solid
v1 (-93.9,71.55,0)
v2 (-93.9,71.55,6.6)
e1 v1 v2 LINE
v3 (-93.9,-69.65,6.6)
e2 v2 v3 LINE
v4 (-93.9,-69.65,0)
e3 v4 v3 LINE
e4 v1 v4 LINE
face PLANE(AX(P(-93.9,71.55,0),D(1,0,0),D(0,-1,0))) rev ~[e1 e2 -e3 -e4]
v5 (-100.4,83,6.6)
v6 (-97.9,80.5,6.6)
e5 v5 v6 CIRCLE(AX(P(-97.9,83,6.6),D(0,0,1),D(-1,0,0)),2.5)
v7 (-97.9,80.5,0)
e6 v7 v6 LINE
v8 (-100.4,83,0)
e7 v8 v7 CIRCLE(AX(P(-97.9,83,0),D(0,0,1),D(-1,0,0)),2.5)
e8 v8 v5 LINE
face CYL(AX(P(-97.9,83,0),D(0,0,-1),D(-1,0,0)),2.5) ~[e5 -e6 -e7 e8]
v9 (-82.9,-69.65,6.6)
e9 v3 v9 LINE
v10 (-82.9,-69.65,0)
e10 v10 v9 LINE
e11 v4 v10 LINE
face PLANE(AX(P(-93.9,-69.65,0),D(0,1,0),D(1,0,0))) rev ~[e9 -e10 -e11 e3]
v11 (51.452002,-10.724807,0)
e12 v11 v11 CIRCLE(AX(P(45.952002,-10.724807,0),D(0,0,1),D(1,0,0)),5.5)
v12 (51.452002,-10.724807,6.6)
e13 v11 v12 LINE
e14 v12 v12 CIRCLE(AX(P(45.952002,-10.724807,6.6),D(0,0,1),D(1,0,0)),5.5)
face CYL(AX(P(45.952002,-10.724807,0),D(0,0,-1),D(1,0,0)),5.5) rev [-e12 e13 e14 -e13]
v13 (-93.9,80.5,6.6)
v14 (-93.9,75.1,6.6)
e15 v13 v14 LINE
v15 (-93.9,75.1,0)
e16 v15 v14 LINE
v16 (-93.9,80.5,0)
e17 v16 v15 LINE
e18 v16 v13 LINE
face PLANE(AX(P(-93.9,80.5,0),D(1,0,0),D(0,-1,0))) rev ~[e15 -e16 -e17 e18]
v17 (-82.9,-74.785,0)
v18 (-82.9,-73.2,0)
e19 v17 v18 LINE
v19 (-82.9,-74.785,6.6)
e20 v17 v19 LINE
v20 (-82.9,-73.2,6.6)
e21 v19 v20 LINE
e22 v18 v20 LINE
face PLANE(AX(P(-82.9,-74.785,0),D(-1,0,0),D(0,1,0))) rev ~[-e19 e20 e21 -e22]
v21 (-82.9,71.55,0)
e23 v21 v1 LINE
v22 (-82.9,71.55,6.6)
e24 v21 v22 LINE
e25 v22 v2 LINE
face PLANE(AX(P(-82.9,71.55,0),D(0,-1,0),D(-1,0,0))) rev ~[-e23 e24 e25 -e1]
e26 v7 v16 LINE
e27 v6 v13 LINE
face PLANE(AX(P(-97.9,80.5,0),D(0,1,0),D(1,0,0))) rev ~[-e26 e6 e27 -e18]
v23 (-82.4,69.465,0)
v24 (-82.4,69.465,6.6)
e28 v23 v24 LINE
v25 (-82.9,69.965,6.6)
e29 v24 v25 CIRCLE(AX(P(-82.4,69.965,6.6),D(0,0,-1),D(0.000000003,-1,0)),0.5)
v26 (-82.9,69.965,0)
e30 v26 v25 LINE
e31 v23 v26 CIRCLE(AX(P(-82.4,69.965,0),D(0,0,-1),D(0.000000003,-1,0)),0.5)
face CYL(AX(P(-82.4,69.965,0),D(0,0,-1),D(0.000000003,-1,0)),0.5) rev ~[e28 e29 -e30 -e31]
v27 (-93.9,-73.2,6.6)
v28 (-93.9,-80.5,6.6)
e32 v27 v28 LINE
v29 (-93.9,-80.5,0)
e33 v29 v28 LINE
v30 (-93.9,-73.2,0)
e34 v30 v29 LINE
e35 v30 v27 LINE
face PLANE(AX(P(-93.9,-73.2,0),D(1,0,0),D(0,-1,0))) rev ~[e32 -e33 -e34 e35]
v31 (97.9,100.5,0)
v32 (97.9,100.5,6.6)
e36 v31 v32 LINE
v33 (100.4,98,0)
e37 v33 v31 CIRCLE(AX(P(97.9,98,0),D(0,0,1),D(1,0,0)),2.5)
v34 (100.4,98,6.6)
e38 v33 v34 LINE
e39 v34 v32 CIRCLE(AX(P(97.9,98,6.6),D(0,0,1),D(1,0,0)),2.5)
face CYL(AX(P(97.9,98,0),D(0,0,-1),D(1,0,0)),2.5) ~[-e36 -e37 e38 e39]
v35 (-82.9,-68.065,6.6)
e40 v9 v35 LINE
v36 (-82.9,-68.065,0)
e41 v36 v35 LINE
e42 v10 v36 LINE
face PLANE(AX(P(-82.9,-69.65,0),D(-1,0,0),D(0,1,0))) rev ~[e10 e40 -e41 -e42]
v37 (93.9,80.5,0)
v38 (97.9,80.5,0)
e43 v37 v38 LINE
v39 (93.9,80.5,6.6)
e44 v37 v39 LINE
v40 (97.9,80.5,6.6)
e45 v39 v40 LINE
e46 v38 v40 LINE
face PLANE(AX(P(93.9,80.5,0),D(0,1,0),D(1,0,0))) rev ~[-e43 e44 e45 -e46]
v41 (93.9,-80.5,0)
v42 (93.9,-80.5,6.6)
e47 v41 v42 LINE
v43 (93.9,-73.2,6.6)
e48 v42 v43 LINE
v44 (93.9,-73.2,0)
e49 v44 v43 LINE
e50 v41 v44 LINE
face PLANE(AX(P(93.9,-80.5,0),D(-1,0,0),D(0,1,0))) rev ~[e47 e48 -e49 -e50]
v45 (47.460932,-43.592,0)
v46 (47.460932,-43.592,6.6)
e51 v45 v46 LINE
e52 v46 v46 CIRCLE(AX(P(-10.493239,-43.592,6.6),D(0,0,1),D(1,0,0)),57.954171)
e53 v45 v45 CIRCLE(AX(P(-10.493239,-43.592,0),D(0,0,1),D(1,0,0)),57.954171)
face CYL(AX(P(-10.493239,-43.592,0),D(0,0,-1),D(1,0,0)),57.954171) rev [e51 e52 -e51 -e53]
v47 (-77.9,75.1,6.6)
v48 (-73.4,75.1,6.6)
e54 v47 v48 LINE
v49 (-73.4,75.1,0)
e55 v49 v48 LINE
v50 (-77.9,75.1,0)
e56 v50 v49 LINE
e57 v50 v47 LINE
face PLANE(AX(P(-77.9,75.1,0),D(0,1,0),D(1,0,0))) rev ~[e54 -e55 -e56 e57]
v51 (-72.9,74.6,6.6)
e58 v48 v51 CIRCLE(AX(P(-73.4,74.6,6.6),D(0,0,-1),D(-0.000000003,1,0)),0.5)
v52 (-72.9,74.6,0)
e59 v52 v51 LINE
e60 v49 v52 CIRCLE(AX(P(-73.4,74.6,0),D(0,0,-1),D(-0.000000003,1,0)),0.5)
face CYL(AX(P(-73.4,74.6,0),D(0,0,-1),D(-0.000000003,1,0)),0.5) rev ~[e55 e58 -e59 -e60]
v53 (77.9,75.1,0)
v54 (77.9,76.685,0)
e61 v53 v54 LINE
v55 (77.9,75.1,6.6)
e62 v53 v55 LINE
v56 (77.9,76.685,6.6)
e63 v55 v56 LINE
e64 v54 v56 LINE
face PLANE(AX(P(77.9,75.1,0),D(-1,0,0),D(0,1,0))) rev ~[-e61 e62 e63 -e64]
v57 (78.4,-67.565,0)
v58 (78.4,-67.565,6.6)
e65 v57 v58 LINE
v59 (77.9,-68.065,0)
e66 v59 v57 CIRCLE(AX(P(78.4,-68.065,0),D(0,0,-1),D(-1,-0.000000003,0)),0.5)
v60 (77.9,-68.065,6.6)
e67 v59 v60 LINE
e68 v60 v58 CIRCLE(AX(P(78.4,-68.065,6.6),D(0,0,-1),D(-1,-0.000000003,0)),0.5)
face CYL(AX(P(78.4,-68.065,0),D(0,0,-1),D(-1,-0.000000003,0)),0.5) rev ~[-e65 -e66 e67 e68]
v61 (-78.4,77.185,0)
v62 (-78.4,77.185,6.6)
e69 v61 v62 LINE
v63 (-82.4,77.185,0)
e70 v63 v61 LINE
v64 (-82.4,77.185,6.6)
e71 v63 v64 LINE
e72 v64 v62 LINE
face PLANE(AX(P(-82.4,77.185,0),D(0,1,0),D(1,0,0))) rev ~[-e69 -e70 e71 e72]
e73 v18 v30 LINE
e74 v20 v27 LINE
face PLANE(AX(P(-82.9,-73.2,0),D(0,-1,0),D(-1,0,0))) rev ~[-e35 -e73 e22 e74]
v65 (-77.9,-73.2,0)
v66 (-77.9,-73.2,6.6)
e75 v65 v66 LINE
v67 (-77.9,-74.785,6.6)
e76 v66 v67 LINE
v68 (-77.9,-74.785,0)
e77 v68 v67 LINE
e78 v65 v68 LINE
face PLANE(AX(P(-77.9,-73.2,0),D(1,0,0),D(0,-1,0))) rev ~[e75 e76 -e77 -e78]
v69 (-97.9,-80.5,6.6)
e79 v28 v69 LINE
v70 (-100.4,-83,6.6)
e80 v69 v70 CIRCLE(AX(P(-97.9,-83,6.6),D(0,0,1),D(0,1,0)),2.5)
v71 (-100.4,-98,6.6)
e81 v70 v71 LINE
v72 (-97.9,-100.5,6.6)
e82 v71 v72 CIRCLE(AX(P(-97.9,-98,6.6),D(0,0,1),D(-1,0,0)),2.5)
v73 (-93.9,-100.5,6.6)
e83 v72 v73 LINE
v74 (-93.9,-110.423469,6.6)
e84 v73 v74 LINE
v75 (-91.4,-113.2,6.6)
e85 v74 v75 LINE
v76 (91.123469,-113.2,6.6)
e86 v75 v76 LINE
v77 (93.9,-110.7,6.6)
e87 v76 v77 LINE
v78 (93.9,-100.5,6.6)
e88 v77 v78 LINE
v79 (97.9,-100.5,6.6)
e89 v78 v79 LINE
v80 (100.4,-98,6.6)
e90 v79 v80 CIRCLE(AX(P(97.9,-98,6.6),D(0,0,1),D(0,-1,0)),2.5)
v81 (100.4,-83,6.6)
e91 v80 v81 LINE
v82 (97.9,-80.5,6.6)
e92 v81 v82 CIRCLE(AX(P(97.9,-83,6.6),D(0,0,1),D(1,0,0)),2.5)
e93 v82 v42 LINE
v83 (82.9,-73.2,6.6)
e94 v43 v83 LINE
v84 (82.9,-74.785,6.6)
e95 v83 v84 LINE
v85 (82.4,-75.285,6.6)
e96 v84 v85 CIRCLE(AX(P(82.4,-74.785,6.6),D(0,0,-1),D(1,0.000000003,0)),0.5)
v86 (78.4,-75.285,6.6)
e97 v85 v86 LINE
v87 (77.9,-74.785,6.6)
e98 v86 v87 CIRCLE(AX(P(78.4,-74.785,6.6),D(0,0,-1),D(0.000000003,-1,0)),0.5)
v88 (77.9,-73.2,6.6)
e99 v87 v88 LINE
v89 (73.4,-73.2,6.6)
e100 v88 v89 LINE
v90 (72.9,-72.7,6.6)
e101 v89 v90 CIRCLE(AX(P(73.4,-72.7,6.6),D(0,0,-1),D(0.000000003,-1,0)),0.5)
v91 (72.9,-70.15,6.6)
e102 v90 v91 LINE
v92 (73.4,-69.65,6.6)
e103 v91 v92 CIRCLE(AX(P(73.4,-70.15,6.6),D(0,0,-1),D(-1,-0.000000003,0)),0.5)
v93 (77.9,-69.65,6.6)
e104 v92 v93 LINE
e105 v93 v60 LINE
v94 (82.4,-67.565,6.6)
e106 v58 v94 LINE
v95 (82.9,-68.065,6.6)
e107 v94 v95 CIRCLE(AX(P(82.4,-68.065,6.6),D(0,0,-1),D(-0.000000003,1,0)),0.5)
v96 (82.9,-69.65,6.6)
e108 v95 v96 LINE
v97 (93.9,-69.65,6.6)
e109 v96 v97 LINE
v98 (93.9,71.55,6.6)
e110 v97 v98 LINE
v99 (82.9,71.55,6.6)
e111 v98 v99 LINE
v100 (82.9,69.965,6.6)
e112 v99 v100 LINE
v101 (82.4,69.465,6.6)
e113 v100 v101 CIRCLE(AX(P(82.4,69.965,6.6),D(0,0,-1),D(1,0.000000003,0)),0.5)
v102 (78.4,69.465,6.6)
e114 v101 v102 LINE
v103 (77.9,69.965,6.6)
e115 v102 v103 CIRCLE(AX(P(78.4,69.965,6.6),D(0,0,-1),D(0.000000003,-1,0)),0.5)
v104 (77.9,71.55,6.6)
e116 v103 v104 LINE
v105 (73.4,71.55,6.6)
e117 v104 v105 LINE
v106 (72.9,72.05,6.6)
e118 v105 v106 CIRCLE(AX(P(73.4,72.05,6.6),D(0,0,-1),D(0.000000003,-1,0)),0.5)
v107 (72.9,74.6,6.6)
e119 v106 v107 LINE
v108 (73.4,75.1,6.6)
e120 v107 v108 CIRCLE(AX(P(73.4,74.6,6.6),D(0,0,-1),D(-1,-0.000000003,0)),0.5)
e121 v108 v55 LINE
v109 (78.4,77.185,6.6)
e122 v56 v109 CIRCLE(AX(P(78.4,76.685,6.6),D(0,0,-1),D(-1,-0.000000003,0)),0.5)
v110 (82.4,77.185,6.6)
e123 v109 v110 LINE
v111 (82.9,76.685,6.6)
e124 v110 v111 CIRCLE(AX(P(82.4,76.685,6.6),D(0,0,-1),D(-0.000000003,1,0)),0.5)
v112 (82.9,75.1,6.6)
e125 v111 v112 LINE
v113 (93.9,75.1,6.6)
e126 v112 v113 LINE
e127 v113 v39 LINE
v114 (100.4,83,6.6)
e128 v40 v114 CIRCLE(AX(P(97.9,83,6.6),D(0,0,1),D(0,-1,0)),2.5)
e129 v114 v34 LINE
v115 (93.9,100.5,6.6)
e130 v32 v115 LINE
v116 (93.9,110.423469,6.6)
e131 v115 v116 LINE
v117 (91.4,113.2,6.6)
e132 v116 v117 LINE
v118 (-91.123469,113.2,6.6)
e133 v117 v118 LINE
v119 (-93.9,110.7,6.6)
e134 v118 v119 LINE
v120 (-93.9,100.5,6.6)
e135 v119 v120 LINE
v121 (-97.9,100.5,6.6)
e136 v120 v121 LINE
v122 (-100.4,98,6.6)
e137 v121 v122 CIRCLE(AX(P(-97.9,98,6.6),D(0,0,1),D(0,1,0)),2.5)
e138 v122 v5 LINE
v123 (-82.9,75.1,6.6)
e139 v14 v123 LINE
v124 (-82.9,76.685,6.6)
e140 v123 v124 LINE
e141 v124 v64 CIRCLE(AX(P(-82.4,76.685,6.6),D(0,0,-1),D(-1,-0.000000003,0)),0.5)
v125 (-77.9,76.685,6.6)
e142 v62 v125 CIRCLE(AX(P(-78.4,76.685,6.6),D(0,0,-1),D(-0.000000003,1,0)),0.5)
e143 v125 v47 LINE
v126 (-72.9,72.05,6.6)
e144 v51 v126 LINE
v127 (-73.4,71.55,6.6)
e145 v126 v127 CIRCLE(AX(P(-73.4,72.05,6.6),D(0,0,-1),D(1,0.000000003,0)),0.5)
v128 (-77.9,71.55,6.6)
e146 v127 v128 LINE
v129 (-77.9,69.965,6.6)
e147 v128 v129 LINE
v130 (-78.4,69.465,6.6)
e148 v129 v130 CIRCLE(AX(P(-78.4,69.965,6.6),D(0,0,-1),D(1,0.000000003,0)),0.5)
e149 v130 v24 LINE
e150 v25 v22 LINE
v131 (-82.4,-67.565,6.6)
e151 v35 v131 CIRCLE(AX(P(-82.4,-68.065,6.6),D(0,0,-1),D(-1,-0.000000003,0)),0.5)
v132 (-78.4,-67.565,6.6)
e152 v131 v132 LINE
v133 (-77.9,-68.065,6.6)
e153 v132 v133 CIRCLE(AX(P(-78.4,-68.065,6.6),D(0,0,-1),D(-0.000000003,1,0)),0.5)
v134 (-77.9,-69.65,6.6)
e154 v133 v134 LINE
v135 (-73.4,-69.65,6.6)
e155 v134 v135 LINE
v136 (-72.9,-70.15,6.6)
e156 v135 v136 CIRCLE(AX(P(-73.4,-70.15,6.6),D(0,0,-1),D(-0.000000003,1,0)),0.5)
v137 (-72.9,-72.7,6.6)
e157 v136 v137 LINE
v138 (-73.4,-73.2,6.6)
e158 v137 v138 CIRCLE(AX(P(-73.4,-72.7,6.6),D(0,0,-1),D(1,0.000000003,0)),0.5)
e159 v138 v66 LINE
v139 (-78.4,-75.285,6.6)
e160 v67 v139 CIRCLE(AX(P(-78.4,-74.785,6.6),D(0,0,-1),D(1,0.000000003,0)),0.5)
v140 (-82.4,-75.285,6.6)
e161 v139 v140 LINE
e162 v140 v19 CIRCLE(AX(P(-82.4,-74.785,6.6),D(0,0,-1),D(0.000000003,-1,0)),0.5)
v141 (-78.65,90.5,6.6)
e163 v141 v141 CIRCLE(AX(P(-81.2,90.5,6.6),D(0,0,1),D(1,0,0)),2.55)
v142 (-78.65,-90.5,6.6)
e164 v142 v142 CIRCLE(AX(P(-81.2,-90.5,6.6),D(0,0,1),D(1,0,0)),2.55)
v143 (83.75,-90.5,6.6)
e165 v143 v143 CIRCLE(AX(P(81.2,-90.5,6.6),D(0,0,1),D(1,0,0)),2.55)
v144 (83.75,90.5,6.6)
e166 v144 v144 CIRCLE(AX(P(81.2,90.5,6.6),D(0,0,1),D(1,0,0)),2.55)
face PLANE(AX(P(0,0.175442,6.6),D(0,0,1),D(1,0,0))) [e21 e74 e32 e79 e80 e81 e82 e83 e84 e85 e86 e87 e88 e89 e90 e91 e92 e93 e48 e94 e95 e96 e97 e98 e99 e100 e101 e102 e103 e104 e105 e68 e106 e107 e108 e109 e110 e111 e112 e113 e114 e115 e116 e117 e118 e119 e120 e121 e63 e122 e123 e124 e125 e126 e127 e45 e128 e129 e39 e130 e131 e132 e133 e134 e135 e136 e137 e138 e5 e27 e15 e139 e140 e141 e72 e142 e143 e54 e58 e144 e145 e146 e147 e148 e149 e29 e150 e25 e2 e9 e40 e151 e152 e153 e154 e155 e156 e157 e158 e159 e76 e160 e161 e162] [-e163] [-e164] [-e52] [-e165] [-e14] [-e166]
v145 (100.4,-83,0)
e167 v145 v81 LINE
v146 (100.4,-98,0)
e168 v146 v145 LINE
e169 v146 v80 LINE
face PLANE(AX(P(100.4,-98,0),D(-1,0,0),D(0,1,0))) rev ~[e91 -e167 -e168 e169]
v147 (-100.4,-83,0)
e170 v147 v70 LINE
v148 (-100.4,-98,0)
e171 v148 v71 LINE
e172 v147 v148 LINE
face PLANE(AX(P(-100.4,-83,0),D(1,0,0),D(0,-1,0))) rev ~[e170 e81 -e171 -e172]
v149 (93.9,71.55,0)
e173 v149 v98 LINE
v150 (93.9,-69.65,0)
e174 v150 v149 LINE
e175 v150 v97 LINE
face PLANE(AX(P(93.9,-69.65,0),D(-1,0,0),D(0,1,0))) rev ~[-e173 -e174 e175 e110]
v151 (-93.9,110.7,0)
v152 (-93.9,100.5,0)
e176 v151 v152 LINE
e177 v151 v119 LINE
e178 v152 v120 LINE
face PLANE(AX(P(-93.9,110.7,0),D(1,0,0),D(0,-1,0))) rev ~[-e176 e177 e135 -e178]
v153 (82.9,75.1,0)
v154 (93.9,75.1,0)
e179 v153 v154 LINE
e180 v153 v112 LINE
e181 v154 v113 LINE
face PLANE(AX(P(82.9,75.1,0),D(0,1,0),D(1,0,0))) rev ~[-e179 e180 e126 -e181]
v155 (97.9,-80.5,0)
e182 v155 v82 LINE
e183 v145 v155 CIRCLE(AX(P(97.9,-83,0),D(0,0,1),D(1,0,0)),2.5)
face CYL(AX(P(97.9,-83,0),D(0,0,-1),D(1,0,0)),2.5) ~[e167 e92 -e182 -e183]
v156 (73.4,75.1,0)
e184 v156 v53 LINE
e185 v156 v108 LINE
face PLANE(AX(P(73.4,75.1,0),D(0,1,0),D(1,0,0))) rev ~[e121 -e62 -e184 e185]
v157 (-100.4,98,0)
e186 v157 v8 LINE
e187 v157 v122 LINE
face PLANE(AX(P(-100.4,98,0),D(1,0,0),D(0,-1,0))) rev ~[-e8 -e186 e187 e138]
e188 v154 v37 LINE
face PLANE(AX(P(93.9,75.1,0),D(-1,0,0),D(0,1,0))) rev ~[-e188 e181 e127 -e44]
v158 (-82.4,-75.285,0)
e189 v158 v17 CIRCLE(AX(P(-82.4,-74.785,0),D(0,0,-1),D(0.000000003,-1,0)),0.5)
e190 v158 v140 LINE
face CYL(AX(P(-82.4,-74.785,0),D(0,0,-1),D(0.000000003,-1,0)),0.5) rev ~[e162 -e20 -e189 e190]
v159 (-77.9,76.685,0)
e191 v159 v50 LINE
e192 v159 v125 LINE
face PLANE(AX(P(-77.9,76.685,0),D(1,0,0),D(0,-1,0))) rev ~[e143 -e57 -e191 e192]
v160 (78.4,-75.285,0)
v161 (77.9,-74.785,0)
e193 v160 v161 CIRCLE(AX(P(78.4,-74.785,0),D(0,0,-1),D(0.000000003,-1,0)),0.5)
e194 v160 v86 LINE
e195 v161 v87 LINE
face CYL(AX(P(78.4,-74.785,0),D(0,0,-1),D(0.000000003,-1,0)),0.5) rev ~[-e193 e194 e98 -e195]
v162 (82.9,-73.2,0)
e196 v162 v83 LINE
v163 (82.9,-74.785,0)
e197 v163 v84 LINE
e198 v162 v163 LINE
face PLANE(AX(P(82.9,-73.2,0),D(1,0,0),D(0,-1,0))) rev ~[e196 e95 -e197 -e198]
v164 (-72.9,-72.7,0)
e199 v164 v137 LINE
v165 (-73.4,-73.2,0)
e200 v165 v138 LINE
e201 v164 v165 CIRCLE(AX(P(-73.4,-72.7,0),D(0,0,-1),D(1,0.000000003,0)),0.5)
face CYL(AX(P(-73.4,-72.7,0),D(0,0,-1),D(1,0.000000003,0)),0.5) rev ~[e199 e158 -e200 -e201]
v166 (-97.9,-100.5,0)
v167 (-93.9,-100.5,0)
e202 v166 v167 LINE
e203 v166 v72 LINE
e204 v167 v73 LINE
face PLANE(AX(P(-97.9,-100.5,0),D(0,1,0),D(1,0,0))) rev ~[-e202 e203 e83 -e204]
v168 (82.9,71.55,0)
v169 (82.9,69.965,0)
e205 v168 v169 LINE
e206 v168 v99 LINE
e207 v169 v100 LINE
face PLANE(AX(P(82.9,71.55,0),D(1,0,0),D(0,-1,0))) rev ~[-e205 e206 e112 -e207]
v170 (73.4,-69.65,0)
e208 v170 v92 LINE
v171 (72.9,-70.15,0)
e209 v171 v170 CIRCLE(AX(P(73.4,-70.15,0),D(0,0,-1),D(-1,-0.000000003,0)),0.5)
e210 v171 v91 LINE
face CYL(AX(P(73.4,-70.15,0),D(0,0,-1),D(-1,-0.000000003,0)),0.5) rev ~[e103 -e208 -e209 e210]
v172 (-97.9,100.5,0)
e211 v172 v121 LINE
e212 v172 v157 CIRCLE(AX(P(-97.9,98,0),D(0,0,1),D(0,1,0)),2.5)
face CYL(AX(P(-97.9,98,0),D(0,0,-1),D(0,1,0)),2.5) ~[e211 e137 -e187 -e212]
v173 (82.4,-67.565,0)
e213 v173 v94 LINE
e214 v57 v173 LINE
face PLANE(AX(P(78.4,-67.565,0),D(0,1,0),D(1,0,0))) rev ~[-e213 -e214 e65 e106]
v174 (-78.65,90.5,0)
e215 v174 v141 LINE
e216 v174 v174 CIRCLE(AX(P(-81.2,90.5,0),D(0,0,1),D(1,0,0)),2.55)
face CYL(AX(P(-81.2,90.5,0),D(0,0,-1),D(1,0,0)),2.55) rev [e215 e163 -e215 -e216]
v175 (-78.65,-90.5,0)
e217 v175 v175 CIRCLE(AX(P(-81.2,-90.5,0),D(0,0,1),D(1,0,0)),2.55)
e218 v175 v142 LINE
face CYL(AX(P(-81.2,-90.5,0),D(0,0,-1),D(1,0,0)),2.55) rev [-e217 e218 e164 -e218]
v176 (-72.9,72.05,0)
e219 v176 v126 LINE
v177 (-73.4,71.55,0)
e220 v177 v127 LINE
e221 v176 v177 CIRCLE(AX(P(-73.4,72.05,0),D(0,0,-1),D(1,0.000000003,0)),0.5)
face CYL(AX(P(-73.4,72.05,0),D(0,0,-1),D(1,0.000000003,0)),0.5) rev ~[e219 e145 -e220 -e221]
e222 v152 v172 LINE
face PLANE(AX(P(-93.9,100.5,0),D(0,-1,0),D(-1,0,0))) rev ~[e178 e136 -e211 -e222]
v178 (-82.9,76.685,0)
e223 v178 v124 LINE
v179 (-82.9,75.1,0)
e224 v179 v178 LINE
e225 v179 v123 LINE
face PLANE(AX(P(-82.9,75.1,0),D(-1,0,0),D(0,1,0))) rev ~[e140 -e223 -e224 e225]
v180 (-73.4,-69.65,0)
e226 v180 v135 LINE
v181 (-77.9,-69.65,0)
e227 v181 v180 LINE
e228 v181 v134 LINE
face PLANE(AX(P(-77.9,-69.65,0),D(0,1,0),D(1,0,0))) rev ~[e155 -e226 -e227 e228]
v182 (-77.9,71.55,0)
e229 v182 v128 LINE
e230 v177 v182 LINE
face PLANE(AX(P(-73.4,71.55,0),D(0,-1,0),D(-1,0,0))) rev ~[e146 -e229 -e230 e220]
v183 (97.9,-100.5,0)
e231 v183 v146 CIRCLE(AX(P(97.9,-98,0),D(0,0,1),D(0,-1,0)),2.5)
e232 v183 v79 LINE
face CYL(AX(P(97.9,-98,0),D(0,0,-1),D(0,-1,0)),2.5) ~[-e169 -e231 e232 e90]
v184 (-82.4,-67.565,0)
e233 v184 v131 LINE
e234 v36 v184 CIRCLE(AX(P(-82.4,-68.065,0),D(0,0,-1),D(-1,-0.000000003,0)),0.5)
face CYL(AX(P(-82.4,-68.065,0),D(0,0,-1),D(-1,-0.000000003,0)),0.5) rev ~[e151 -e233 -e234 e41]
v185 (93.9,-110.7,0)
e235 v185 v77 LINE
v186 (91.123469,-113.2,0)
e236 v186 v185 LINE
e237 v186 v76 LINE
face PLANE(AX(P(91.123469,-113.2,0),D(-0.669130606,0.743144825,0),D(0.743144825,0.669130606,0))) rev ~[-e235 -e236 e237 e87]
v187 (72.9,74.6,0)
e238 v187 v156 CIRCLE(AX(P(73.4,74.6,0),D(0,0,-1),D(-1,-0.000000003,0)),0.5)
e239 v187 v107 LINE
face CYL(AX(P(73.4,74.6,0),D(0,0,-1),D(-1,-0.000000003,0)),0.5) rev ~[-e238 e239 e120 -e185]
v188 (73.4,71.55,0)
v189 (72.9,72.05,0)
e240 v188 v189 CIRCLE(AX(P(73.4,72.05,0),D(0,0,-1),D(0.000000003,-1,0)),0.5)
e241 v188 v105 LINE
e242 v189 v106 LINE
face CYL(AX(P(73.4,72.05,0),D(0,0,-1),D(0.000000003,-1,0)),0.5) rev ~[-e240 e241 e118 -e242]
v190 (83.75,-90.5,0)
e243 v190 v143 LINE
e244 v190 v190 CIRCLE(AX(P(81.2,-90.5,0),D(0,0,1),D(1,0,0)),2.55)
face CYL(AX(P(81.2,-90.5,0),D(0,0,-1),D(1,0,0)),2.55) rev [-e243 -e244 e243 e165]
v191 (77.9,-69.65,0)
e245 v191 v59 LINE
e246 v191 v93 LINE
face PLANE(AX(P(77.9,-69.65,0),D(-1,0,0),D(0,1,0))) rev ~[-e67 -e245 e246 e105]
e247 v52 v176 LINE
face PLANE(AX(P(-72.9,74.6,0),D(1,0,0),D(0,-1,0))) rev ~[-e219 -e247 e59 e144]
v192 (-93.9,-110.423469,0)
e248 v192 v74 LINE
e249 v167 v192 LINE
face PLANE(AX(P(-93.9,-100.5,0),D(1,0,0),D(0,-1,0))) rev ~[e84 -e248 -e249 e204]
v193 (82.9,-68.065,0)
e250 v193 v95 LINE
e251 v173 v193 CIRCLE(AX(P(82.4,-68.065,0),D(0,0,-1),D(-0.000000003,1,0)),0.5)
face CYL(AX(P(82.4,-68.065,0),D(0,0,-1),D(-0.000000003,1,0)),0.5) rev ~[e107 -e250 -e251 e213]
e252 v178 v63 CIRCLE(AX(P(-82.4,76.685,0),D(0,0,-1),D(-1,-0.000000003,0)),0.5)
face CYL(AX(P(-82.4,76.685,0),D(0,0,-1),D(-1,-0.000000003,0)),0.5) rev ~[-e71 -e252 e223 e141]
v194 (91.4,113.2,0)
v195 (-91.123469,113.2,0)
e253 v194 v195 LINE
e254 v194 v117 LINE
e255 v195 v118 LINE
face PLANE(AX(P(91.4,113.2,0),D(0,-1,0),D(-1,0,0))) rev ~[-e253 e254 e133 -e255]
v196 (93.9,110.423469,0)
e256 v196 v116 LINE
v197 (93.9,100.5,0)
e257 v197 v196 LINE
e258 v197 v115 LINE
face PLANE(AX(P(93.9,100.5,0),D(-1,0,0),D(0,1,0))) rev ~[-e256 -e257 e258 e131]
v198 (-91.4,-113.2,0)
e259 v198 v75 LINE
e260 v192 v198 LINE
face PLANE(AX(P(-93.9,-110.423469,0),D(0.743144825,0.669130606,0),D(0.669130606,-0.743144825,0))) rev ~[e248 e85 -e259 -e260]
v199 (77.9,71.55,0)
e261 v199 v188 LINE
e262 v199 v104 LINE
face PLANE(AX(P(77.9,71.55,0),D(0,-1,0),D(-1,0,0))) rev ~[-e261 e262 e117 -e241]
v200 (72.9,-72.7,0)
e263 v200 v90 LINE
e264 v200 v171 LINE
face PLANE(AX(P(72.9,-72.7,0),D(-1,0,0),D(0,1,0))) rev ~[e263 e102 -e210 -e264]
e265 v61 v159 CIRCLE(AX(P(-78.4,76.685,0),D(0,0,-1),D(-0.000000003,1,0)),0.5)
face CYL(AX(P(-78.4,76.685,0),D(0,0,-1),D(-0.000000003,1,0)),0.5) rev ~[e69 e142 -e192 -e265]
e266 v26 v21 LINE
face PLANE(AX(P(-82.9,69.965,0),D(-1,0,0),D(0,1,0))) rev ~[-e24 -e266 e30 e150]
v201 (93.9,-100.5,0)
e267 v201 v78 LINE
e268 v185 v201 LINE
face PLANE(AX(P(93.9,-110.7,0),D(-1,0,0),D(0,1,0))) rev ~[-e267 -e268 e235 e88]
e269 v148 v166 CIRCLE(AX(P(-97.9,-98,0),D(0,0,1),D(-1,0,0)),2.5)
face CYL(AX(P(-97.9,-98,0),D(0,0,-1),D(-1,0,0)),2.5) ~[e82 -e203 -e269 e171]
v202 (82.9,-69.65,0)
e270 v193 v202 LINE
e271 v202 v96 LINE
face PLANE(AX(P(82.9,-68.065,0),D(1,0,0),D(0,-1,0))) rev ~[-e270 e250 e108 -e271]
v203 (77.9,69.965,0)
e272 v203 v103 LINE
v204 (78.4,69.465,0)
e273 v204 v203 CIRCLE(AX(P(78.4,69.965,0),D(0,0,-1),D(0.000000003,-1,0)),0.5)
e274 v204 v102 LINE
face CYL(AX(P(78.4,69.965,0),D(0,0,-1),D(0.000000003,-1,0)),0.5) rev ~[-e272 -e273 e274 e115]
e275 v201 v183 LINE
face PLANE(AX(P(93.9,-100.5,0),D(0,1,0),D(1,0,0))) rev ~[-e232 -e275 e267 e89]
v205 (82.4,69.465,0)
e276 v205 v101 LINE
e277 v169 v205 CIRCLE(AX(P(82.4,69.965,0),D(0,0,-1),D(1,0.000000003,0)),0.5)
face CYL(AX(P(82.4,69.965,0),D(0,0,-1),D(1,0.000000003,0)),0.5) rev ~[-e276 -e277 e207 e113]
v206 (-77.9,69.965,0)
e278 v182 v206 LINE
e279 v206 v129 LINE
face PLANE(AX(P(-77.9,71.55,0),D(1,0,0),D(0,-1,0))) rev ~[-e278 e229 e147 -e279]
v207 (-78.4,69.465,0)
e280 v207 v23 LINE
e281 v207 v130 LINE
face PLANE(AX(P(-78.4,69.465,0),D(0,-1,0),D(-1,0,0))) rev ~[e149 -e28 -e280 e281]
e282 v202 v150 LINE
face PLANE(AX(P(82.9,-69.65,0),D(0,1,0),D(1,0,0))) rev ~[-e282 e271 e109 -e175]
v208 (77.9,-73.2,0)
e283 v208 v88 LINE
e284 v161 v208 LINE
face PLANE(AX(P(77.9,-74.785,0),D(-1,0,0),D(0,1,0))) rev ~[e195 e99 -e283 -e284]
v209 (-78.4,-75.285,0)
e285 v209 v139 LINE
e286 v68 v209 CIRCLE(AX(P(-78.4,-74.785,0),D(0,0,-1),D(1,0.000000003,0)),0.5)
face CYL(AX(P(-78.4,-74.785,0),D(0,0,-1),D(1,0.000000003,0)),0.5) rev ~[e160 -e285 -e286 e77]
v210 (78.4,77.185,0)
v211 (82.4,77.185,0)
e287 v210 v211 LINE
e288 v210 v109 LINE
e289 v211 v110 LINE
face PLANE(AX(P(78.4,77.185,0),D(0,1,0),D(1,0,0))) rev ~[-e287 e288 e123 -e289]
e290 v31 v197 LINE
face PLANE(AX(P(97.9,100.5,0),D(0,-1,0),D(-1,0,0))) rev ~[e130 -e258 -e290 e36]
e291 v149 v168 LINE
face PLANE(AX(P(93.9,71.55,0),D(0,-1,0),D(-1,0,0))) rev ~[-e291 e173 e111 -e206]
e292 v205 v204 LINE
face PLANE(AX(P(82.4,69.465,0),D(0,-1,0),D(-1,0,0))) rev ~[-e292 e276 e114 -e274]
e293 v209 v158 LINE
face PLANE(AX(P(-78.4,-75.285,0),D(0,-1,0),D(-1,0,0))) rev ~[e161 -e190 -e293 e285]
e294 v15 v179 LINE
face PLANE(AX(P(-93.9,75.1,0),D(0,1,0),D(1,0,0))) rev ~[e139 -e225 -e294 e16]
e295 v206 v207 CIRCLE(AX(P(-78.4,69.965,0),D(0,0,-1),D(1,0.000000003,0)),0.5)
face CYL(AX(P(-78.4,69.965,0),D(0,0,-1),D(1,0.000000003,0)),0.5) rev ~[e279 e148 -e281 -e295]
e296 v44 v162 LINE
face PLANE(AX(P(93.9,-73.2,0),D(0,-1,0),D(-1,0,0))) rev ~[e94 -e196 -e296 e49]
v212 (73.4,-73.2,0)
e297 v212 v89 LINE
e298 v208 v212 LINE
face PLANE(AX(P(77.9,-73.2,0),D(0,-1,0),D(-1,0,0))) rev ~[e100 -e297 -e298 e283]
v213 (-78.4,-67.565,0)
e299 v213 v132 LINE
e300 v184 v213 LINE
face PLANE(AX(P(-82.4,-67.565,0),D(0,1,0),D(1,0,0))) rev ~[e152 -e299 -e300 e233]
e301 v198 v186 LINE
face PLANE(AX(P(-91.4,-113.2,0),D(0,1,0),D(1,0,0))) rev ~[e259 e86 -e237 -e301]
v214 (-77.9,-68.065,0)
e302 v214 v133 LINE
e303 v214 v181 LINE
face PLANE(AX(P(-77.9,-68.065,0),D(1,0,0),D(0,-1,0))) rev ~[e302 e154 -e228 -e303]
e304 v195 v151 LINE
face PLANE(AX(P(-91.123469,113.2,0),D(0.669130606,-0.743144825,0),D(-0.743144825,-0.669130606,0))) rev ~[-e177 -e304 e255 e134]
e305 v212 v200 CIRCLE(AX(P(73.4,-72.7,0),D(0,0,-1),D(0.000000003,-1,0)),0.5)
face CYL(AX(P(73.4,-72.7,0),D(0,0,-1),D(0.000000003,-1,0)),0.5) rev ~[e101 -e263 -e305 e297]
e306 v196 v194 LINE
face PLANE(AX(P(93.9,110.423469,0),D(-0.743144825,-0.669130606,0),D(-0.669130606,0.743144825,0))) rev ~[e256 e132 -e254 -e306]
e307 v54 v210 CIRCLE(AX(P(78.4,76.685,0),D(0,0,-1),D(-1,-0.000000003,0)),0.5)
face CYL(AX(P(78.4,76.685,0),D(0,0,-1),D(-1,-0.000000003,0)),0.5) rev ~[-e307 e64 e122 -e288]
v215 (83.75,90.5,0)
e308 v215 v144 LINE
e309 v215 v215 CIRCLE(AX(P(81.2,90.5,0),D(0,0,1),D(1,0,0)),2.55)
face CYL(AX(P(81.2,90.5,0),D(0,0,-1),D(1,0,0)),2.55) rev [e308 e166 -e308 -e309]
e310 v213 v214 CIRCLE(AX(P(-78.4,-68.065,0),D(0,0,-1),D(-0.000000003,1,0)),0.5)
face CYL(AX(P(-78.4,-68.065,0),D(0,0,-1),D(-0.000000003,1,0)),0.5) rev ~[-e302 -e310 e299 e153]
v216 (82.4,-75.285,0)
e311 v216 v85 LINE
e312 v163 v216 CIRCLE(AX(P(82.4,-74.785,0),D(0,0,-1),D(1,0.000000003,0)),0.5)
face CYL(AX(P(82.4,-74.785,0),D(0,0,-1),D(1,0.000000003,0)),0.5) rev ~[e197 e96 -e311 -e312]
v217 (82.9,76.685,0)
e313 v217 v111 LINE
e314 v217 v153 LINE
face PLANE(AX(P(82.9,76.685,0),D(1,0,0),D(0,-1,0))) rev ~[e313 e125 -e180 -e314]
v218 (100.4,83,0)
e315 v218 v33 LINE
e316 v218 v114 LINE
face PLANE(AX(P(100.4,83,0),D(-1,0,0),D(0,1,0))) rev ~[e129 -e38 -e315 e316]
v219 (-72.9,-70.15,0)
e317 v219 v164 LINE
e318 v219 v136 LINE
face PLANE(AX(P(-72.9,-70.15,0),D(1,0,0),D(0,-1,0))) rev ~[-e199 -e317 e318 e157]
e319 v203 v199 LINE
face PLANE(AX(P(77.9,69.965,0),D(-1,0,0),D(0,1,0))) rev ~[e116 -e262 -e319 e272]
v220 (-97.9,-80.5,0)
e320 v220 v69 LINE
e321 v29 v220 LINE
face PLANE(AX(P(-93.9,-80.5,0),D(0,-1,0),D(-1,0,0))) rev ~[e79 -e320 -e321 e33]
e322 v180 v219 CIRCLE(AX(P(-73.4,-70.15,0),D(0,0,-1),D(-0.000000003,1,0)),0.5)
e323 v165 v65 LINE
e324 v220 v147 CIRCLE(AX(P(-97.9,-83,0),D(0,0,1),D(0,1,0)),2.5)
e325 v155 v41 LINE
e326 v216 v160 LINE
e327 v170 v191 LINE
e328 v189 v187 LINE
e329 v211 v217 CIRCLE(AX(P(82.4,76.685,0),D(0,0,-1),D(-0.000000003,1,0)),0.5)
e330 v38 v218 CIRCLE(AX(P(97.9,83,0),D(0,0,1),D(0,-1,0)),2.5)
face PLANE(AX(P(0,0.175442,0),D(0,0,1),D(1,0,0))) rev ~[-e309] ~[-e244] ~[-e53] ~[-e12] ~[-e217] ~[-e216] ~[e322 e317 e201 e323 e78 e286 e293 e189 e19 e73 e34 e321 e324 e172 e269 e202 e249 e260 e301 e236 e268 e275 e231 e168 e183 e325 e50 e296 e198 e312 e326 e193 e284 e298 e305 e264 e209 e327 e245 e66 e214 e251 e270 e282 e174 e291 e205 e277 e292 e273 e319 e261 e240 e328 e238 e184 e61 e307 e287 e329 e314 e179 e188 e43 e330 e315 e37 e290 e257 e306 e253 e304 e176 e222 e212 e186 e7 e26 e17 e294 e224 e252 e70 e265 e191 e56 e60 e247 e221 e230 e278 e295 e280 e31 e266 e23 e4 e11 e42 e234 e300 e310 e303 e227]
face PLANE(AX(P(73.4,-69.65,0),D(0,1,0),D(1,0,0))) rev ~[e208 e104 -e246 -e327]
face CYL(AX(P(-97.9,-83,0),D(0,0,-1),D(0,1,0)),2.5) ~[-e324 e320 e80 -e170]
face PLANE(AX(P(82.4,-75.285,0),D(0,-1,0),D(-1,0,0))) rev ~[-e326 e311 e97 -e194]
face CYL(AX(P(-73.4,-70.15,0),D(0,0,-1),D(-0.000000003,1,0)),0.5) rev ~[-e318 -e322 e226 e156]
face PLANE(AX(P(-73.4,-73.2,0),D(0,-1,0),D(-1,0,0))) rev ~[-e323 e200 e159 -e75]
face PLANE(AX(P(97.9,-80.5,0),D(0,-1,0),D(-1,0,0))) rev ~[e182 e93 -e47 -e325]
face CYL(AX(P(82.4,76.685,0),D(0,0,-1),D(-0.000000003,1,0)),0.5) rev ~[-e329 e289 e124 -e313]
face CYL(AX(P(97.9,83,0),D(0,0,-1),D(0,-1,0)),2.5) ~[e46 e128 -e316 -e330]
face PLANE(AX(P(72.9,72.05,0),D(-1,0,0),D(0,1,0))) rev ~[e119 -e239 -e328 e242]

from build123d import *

# Parameters (mm, degrees)
MODEL_R             = 57.954171366
MODEL_R_2           = 2.55
MODEL_R_3           = 5.5
BOSS_EXTRUDE1_DEPTH = 6.6


with BuildPart() as part:
    # Model → Boss-Extrude1 (new body)
    with BuildSketch(Plane.XY):
        with BuildLine():
            Line((93.9, 110.423468713), (91.4, 113.2))
            Line((91.4, 113.2), (-91.123468713, 113.2))
            Line((-91.123468713, 113.2), (-93.9, 110.7))
            Line((-93.9, 110.7), (-93.9, 100.5))
            Line((-93.9, 100.5), (-97.9, 100.5))
            ThreePointArc((-97.9, 100.5), (-99.667766953, 99.767766953), (-100.4, 98))
            Line((-100.4, 98), (-100.4, 83))
            ThreePointArc((-100.4, 83), (-99.667766953, 81.232233047), (-97.9, 80.5))
            Line((-97.9, 80.5), (-93.9, 80.5))
            Line((-93.9, 80.5), (-93.9, 75.1))
            Line((-93.9, 75.1), (-82.9, 75.1))
            Line((-82.9, 75.1), (-82.9, 76.685))
            ThreePointArc((-82.9, 76.685), (-82.753553391, 77.038553391), (-82.4, 77.185))
            Line((-82.4, 77.185), (-78.4, 77.185))
            ThreePointArc((-78.4, 77.185), (-78.046446609, 77.038553391), (-77.9, 76.685))
            Line((-77.9, 76.685), (-77.9, 75.1))
            Line((-77.9, 75.1), (-73.4, 75.1))
            ThreePointArc((-73.4, 75.1), (-73.046446609, 74.953553391), (-72.9, 74.6))
            Line((-72.9, 74.6), (-72.9, 72.05))
            ThreePointArc((-72.9, 72.05), (-73.046446609, 71.696446609), (-73.4, 71.55))
            Line((-73.4, 71.55), (-77.9, 71.55))
            Line((-77.9, 71.55), (-77.9, 69.965))
            ThreePointArc((-77.9, 69.965), (-78.046446609, 69.611446609), (-78.4, 69.465))
            Line((-78.4, 69.465), (-82.4, 69.465))
            ThreePointArc((-82.4, 69.465), (-82.753553391, 69.611446609), (-82.9, 69.965))
            Line((-82.9, 69.965), (-82.9, 71.55))
            Line((-82.9, 71.55), (-93.9, 71.55))
            Line((-93.9, 71.55), (-93.9, -69.65))
            Line((-93.9, -69.65), (-82.9, -69.65))
            Line((-82.9, -69.65), (-82.9, -68.065))
            ThreePointArc((-82.9, -68.065), (-82.753553391, -67.711446609), (-82.4, -67.565))
            Line((-82.4, -67.565), (-78.4, -67.565))
            ThreePointArc((-78.4, -67.565), (-78.046446609, -67.711446609), (-77.9, -68.065))
            Line((-77.9, -68.065), (-77.9, -69.65))
            Line((-77.9, -69.65), (-73.4, -69.65))
            ThreePointArc((-73.4, -69.65), (-73.046446609, -69.796446609), (-72.9, -70.15))
            Line((-72.9, -70.15), (-72.9, -72.7))
            ThreePointArc((-72.9, -72.7), (-73.046446609, -73.053553391), (-73.4, -73.2))
            Line((-73.4, -73.2), (-77.9, -73.2))
            Line((-77.9, -73.2), (-77.9, -74.785))
            ThreePointArc((-77.9, -74.785), (-78.046446609, -75.138553391), (-78.4, -75.285))
            Line((-78.4, -75.285), (-82.4, -75.285))
            ThreePointArc((-82.4, -75.285), (-82.753553391, -75.138553391), (-82.9, -74.785))
            Line((-82.9, -74.785), (-82.9, -73.2))
            Line((-82.9, -73.2), (-93.9, -73.2))
            Line((-93.9, -73.2), (-93.9, -80.5))
            Line((-93.9, -80.5), (-97.9, -80.5))
            ThreePointArc((-97.9, -80.5), (-99.667766953, -81.232233047), (-100.4, -83))
            Line((-100.4, -83), (-100.4, -98))
            ThreePointArc((-100.4, -98), (-99.667766953, -99.767766953), (-97.9, -100.5))
            Line((-97.9, -100.5), (-93.9, -100.5))
            Line((-93.9, -100.5), (-93.9, -110.423468713))
            Line((-93.9, -110.423468713), (-91.4, -113.2))
            Line((-91.4, -113.2), (91.123468713, -113.2))
            Line((91.123468713, -113.2), (93.9, -110.7))
            Line((93.9, -110.7), (93.9, -100.5))
            Line((93.9, -100.5), (97.9, -100.5))
            ThreePointArc((97.9, -100.5), (99.667766953, -99.767766953), (100.4, -98))
            Line((100.4, -98), (100.4, -83))
            ThreePointArc((100.4, -83), (99.667766953, -81.232233047), (97.9, -80.5))
            Line((97.9, -80.5), (93.9, -80.5))
            Line((93.9, -80.5), (93.9, -73.2))
            Line((93.9, -73.2), (82.9, -73.2))
            Line((82.9, -73.2), (82.9, -74.785))
            ThreePointArc((82.9, -74.785), (82.753553391, -75.138553391), (82.4, -75.285))
            Line((82.4, -75.285), (78.4, -75.285))
            ThreePointArc((78.4, -75.285), (78.046446609, -75.138553391), (77.9, -74.785))
            Line((77.9, -74.785), (77.9, -73.2))
            Line((77.9, -73.2), (73.4, -73.2))
            ThreePointArc((73.4, -73.2), (73.046446609, -73.053553391), (72.9, -72.7))
            Line((72.9, -72.7), (72.9, -70.15))
            ThreePointArc((72.9, -70.15), (73.046446609, -69.796446609), (73.4, -69.65))
            Line((73.4, -69.65), (77.9, -69.65))
            Line((77.9, -69.65), (77.9, -68.065))
            ThreePointArc((77.9, -68.065), (78.046446609, -67.711446609), (78.4, -67.565))
            Line((78.4, -67.565), (82.4, -67.565))
            ThreePointArc((82.4, -67.565), (82.753553391, -67.711446609), (82.9, -68.065))
            Line((82.9, -68.065), (82.9, -69.65))
            Line((82.9, -69.65), (93.9, -69.65))
            Line((93.9, -69.65), (93.9, 71.55))
            Line((93.9, 71.55), (82.9, 71.55))
            Line((82.9, 71.55), (82.9, 69.965))
            ThreePointArc((82.9, 69.965), (82.753553391, 69.611446609), (82.4, 69.465))
            Line((82.4, 69.465), (78.4, 69.465))
            ThreePointArc((78.4, 69.465), (78.046446609, 69.611446609), (77.9, 69.965))
            Line((77.9, 69.965), (77.9, 71.55))
            Line((77.9, 71.55), (73.4, 71.55))
            ThreePointArc((73.4, 71.55), (73.046446609, 71.696446609), (72.9, 72.05))
            Line((72.9, 72.05), (72.9, 74.6))
            ThreePointArc((72.9, 74.6), (73.046446609, 74.953553391), (73.4, 75.1))
            Line((73.4, 75.1), (77.9, 75.1))
            Line((77.9, 75.1), (77.9, 76.685))
            ThreePointArc((77.9, 76.685), (78.046446609, 77.038553391), (78.4, 77.185))
            Line((78.4, 77.185), (82.4, 77.185))
            ThreePointArc((82.4, 77.185), (82.753553391, 77.038553391), (82.9, 76.685))
            Line((82.9, 76.685), (82.9, 75.1))
            Line((82.9, 75.1), (93.9, 75.1))
            Line((93.9, 75.1), (93.9, 80.5))
            Line((93.9, 80.5), (97.9, 80.5))
            ThreePointArc((97.9, 80.5), (99.667766953, 81.232233047), (100.4, 83))
            Line((100.4, 83), (100.4, 98))
            ThreePointArc((100.4, 98), (99.667766953, 99.767766953), (97.9, 100.5))
            Line((97.9, 100.5), (93.9, 100.5))
            Line((93.9, 100.5), (93.9, 110.423468713))
        make_face()
        with Locations((-10.493238984, -43.592)):
            Circle(MODEL_R, mode=Mode.SUBTRACT)
        with Locations((81.2, -90.5)):
            Circle(MODEL_R_2, mode=Mode.SUBTRACT)
        with Locations((81.2, 90.5)):
            Circle(MODEL_R_2, mode=Mode.SUBTRACT)
        with Locations((-81.2, 90.5)):
            Circle(MODEL_R_2, mode=Mode.SUBTRACT)
        with Locations((-81.2, -90.5)):
            Circle(MODEL_R_2, mode=Mode.SUBTRACT)
        with Locations((45.952001664, -10.724806781)):
            Circle(MODEL_R_3, mode=Mode.SUBTRACT)
    extrude(amount=BOSS_EXTRUDE1_DEPTH)


solid = part.part
